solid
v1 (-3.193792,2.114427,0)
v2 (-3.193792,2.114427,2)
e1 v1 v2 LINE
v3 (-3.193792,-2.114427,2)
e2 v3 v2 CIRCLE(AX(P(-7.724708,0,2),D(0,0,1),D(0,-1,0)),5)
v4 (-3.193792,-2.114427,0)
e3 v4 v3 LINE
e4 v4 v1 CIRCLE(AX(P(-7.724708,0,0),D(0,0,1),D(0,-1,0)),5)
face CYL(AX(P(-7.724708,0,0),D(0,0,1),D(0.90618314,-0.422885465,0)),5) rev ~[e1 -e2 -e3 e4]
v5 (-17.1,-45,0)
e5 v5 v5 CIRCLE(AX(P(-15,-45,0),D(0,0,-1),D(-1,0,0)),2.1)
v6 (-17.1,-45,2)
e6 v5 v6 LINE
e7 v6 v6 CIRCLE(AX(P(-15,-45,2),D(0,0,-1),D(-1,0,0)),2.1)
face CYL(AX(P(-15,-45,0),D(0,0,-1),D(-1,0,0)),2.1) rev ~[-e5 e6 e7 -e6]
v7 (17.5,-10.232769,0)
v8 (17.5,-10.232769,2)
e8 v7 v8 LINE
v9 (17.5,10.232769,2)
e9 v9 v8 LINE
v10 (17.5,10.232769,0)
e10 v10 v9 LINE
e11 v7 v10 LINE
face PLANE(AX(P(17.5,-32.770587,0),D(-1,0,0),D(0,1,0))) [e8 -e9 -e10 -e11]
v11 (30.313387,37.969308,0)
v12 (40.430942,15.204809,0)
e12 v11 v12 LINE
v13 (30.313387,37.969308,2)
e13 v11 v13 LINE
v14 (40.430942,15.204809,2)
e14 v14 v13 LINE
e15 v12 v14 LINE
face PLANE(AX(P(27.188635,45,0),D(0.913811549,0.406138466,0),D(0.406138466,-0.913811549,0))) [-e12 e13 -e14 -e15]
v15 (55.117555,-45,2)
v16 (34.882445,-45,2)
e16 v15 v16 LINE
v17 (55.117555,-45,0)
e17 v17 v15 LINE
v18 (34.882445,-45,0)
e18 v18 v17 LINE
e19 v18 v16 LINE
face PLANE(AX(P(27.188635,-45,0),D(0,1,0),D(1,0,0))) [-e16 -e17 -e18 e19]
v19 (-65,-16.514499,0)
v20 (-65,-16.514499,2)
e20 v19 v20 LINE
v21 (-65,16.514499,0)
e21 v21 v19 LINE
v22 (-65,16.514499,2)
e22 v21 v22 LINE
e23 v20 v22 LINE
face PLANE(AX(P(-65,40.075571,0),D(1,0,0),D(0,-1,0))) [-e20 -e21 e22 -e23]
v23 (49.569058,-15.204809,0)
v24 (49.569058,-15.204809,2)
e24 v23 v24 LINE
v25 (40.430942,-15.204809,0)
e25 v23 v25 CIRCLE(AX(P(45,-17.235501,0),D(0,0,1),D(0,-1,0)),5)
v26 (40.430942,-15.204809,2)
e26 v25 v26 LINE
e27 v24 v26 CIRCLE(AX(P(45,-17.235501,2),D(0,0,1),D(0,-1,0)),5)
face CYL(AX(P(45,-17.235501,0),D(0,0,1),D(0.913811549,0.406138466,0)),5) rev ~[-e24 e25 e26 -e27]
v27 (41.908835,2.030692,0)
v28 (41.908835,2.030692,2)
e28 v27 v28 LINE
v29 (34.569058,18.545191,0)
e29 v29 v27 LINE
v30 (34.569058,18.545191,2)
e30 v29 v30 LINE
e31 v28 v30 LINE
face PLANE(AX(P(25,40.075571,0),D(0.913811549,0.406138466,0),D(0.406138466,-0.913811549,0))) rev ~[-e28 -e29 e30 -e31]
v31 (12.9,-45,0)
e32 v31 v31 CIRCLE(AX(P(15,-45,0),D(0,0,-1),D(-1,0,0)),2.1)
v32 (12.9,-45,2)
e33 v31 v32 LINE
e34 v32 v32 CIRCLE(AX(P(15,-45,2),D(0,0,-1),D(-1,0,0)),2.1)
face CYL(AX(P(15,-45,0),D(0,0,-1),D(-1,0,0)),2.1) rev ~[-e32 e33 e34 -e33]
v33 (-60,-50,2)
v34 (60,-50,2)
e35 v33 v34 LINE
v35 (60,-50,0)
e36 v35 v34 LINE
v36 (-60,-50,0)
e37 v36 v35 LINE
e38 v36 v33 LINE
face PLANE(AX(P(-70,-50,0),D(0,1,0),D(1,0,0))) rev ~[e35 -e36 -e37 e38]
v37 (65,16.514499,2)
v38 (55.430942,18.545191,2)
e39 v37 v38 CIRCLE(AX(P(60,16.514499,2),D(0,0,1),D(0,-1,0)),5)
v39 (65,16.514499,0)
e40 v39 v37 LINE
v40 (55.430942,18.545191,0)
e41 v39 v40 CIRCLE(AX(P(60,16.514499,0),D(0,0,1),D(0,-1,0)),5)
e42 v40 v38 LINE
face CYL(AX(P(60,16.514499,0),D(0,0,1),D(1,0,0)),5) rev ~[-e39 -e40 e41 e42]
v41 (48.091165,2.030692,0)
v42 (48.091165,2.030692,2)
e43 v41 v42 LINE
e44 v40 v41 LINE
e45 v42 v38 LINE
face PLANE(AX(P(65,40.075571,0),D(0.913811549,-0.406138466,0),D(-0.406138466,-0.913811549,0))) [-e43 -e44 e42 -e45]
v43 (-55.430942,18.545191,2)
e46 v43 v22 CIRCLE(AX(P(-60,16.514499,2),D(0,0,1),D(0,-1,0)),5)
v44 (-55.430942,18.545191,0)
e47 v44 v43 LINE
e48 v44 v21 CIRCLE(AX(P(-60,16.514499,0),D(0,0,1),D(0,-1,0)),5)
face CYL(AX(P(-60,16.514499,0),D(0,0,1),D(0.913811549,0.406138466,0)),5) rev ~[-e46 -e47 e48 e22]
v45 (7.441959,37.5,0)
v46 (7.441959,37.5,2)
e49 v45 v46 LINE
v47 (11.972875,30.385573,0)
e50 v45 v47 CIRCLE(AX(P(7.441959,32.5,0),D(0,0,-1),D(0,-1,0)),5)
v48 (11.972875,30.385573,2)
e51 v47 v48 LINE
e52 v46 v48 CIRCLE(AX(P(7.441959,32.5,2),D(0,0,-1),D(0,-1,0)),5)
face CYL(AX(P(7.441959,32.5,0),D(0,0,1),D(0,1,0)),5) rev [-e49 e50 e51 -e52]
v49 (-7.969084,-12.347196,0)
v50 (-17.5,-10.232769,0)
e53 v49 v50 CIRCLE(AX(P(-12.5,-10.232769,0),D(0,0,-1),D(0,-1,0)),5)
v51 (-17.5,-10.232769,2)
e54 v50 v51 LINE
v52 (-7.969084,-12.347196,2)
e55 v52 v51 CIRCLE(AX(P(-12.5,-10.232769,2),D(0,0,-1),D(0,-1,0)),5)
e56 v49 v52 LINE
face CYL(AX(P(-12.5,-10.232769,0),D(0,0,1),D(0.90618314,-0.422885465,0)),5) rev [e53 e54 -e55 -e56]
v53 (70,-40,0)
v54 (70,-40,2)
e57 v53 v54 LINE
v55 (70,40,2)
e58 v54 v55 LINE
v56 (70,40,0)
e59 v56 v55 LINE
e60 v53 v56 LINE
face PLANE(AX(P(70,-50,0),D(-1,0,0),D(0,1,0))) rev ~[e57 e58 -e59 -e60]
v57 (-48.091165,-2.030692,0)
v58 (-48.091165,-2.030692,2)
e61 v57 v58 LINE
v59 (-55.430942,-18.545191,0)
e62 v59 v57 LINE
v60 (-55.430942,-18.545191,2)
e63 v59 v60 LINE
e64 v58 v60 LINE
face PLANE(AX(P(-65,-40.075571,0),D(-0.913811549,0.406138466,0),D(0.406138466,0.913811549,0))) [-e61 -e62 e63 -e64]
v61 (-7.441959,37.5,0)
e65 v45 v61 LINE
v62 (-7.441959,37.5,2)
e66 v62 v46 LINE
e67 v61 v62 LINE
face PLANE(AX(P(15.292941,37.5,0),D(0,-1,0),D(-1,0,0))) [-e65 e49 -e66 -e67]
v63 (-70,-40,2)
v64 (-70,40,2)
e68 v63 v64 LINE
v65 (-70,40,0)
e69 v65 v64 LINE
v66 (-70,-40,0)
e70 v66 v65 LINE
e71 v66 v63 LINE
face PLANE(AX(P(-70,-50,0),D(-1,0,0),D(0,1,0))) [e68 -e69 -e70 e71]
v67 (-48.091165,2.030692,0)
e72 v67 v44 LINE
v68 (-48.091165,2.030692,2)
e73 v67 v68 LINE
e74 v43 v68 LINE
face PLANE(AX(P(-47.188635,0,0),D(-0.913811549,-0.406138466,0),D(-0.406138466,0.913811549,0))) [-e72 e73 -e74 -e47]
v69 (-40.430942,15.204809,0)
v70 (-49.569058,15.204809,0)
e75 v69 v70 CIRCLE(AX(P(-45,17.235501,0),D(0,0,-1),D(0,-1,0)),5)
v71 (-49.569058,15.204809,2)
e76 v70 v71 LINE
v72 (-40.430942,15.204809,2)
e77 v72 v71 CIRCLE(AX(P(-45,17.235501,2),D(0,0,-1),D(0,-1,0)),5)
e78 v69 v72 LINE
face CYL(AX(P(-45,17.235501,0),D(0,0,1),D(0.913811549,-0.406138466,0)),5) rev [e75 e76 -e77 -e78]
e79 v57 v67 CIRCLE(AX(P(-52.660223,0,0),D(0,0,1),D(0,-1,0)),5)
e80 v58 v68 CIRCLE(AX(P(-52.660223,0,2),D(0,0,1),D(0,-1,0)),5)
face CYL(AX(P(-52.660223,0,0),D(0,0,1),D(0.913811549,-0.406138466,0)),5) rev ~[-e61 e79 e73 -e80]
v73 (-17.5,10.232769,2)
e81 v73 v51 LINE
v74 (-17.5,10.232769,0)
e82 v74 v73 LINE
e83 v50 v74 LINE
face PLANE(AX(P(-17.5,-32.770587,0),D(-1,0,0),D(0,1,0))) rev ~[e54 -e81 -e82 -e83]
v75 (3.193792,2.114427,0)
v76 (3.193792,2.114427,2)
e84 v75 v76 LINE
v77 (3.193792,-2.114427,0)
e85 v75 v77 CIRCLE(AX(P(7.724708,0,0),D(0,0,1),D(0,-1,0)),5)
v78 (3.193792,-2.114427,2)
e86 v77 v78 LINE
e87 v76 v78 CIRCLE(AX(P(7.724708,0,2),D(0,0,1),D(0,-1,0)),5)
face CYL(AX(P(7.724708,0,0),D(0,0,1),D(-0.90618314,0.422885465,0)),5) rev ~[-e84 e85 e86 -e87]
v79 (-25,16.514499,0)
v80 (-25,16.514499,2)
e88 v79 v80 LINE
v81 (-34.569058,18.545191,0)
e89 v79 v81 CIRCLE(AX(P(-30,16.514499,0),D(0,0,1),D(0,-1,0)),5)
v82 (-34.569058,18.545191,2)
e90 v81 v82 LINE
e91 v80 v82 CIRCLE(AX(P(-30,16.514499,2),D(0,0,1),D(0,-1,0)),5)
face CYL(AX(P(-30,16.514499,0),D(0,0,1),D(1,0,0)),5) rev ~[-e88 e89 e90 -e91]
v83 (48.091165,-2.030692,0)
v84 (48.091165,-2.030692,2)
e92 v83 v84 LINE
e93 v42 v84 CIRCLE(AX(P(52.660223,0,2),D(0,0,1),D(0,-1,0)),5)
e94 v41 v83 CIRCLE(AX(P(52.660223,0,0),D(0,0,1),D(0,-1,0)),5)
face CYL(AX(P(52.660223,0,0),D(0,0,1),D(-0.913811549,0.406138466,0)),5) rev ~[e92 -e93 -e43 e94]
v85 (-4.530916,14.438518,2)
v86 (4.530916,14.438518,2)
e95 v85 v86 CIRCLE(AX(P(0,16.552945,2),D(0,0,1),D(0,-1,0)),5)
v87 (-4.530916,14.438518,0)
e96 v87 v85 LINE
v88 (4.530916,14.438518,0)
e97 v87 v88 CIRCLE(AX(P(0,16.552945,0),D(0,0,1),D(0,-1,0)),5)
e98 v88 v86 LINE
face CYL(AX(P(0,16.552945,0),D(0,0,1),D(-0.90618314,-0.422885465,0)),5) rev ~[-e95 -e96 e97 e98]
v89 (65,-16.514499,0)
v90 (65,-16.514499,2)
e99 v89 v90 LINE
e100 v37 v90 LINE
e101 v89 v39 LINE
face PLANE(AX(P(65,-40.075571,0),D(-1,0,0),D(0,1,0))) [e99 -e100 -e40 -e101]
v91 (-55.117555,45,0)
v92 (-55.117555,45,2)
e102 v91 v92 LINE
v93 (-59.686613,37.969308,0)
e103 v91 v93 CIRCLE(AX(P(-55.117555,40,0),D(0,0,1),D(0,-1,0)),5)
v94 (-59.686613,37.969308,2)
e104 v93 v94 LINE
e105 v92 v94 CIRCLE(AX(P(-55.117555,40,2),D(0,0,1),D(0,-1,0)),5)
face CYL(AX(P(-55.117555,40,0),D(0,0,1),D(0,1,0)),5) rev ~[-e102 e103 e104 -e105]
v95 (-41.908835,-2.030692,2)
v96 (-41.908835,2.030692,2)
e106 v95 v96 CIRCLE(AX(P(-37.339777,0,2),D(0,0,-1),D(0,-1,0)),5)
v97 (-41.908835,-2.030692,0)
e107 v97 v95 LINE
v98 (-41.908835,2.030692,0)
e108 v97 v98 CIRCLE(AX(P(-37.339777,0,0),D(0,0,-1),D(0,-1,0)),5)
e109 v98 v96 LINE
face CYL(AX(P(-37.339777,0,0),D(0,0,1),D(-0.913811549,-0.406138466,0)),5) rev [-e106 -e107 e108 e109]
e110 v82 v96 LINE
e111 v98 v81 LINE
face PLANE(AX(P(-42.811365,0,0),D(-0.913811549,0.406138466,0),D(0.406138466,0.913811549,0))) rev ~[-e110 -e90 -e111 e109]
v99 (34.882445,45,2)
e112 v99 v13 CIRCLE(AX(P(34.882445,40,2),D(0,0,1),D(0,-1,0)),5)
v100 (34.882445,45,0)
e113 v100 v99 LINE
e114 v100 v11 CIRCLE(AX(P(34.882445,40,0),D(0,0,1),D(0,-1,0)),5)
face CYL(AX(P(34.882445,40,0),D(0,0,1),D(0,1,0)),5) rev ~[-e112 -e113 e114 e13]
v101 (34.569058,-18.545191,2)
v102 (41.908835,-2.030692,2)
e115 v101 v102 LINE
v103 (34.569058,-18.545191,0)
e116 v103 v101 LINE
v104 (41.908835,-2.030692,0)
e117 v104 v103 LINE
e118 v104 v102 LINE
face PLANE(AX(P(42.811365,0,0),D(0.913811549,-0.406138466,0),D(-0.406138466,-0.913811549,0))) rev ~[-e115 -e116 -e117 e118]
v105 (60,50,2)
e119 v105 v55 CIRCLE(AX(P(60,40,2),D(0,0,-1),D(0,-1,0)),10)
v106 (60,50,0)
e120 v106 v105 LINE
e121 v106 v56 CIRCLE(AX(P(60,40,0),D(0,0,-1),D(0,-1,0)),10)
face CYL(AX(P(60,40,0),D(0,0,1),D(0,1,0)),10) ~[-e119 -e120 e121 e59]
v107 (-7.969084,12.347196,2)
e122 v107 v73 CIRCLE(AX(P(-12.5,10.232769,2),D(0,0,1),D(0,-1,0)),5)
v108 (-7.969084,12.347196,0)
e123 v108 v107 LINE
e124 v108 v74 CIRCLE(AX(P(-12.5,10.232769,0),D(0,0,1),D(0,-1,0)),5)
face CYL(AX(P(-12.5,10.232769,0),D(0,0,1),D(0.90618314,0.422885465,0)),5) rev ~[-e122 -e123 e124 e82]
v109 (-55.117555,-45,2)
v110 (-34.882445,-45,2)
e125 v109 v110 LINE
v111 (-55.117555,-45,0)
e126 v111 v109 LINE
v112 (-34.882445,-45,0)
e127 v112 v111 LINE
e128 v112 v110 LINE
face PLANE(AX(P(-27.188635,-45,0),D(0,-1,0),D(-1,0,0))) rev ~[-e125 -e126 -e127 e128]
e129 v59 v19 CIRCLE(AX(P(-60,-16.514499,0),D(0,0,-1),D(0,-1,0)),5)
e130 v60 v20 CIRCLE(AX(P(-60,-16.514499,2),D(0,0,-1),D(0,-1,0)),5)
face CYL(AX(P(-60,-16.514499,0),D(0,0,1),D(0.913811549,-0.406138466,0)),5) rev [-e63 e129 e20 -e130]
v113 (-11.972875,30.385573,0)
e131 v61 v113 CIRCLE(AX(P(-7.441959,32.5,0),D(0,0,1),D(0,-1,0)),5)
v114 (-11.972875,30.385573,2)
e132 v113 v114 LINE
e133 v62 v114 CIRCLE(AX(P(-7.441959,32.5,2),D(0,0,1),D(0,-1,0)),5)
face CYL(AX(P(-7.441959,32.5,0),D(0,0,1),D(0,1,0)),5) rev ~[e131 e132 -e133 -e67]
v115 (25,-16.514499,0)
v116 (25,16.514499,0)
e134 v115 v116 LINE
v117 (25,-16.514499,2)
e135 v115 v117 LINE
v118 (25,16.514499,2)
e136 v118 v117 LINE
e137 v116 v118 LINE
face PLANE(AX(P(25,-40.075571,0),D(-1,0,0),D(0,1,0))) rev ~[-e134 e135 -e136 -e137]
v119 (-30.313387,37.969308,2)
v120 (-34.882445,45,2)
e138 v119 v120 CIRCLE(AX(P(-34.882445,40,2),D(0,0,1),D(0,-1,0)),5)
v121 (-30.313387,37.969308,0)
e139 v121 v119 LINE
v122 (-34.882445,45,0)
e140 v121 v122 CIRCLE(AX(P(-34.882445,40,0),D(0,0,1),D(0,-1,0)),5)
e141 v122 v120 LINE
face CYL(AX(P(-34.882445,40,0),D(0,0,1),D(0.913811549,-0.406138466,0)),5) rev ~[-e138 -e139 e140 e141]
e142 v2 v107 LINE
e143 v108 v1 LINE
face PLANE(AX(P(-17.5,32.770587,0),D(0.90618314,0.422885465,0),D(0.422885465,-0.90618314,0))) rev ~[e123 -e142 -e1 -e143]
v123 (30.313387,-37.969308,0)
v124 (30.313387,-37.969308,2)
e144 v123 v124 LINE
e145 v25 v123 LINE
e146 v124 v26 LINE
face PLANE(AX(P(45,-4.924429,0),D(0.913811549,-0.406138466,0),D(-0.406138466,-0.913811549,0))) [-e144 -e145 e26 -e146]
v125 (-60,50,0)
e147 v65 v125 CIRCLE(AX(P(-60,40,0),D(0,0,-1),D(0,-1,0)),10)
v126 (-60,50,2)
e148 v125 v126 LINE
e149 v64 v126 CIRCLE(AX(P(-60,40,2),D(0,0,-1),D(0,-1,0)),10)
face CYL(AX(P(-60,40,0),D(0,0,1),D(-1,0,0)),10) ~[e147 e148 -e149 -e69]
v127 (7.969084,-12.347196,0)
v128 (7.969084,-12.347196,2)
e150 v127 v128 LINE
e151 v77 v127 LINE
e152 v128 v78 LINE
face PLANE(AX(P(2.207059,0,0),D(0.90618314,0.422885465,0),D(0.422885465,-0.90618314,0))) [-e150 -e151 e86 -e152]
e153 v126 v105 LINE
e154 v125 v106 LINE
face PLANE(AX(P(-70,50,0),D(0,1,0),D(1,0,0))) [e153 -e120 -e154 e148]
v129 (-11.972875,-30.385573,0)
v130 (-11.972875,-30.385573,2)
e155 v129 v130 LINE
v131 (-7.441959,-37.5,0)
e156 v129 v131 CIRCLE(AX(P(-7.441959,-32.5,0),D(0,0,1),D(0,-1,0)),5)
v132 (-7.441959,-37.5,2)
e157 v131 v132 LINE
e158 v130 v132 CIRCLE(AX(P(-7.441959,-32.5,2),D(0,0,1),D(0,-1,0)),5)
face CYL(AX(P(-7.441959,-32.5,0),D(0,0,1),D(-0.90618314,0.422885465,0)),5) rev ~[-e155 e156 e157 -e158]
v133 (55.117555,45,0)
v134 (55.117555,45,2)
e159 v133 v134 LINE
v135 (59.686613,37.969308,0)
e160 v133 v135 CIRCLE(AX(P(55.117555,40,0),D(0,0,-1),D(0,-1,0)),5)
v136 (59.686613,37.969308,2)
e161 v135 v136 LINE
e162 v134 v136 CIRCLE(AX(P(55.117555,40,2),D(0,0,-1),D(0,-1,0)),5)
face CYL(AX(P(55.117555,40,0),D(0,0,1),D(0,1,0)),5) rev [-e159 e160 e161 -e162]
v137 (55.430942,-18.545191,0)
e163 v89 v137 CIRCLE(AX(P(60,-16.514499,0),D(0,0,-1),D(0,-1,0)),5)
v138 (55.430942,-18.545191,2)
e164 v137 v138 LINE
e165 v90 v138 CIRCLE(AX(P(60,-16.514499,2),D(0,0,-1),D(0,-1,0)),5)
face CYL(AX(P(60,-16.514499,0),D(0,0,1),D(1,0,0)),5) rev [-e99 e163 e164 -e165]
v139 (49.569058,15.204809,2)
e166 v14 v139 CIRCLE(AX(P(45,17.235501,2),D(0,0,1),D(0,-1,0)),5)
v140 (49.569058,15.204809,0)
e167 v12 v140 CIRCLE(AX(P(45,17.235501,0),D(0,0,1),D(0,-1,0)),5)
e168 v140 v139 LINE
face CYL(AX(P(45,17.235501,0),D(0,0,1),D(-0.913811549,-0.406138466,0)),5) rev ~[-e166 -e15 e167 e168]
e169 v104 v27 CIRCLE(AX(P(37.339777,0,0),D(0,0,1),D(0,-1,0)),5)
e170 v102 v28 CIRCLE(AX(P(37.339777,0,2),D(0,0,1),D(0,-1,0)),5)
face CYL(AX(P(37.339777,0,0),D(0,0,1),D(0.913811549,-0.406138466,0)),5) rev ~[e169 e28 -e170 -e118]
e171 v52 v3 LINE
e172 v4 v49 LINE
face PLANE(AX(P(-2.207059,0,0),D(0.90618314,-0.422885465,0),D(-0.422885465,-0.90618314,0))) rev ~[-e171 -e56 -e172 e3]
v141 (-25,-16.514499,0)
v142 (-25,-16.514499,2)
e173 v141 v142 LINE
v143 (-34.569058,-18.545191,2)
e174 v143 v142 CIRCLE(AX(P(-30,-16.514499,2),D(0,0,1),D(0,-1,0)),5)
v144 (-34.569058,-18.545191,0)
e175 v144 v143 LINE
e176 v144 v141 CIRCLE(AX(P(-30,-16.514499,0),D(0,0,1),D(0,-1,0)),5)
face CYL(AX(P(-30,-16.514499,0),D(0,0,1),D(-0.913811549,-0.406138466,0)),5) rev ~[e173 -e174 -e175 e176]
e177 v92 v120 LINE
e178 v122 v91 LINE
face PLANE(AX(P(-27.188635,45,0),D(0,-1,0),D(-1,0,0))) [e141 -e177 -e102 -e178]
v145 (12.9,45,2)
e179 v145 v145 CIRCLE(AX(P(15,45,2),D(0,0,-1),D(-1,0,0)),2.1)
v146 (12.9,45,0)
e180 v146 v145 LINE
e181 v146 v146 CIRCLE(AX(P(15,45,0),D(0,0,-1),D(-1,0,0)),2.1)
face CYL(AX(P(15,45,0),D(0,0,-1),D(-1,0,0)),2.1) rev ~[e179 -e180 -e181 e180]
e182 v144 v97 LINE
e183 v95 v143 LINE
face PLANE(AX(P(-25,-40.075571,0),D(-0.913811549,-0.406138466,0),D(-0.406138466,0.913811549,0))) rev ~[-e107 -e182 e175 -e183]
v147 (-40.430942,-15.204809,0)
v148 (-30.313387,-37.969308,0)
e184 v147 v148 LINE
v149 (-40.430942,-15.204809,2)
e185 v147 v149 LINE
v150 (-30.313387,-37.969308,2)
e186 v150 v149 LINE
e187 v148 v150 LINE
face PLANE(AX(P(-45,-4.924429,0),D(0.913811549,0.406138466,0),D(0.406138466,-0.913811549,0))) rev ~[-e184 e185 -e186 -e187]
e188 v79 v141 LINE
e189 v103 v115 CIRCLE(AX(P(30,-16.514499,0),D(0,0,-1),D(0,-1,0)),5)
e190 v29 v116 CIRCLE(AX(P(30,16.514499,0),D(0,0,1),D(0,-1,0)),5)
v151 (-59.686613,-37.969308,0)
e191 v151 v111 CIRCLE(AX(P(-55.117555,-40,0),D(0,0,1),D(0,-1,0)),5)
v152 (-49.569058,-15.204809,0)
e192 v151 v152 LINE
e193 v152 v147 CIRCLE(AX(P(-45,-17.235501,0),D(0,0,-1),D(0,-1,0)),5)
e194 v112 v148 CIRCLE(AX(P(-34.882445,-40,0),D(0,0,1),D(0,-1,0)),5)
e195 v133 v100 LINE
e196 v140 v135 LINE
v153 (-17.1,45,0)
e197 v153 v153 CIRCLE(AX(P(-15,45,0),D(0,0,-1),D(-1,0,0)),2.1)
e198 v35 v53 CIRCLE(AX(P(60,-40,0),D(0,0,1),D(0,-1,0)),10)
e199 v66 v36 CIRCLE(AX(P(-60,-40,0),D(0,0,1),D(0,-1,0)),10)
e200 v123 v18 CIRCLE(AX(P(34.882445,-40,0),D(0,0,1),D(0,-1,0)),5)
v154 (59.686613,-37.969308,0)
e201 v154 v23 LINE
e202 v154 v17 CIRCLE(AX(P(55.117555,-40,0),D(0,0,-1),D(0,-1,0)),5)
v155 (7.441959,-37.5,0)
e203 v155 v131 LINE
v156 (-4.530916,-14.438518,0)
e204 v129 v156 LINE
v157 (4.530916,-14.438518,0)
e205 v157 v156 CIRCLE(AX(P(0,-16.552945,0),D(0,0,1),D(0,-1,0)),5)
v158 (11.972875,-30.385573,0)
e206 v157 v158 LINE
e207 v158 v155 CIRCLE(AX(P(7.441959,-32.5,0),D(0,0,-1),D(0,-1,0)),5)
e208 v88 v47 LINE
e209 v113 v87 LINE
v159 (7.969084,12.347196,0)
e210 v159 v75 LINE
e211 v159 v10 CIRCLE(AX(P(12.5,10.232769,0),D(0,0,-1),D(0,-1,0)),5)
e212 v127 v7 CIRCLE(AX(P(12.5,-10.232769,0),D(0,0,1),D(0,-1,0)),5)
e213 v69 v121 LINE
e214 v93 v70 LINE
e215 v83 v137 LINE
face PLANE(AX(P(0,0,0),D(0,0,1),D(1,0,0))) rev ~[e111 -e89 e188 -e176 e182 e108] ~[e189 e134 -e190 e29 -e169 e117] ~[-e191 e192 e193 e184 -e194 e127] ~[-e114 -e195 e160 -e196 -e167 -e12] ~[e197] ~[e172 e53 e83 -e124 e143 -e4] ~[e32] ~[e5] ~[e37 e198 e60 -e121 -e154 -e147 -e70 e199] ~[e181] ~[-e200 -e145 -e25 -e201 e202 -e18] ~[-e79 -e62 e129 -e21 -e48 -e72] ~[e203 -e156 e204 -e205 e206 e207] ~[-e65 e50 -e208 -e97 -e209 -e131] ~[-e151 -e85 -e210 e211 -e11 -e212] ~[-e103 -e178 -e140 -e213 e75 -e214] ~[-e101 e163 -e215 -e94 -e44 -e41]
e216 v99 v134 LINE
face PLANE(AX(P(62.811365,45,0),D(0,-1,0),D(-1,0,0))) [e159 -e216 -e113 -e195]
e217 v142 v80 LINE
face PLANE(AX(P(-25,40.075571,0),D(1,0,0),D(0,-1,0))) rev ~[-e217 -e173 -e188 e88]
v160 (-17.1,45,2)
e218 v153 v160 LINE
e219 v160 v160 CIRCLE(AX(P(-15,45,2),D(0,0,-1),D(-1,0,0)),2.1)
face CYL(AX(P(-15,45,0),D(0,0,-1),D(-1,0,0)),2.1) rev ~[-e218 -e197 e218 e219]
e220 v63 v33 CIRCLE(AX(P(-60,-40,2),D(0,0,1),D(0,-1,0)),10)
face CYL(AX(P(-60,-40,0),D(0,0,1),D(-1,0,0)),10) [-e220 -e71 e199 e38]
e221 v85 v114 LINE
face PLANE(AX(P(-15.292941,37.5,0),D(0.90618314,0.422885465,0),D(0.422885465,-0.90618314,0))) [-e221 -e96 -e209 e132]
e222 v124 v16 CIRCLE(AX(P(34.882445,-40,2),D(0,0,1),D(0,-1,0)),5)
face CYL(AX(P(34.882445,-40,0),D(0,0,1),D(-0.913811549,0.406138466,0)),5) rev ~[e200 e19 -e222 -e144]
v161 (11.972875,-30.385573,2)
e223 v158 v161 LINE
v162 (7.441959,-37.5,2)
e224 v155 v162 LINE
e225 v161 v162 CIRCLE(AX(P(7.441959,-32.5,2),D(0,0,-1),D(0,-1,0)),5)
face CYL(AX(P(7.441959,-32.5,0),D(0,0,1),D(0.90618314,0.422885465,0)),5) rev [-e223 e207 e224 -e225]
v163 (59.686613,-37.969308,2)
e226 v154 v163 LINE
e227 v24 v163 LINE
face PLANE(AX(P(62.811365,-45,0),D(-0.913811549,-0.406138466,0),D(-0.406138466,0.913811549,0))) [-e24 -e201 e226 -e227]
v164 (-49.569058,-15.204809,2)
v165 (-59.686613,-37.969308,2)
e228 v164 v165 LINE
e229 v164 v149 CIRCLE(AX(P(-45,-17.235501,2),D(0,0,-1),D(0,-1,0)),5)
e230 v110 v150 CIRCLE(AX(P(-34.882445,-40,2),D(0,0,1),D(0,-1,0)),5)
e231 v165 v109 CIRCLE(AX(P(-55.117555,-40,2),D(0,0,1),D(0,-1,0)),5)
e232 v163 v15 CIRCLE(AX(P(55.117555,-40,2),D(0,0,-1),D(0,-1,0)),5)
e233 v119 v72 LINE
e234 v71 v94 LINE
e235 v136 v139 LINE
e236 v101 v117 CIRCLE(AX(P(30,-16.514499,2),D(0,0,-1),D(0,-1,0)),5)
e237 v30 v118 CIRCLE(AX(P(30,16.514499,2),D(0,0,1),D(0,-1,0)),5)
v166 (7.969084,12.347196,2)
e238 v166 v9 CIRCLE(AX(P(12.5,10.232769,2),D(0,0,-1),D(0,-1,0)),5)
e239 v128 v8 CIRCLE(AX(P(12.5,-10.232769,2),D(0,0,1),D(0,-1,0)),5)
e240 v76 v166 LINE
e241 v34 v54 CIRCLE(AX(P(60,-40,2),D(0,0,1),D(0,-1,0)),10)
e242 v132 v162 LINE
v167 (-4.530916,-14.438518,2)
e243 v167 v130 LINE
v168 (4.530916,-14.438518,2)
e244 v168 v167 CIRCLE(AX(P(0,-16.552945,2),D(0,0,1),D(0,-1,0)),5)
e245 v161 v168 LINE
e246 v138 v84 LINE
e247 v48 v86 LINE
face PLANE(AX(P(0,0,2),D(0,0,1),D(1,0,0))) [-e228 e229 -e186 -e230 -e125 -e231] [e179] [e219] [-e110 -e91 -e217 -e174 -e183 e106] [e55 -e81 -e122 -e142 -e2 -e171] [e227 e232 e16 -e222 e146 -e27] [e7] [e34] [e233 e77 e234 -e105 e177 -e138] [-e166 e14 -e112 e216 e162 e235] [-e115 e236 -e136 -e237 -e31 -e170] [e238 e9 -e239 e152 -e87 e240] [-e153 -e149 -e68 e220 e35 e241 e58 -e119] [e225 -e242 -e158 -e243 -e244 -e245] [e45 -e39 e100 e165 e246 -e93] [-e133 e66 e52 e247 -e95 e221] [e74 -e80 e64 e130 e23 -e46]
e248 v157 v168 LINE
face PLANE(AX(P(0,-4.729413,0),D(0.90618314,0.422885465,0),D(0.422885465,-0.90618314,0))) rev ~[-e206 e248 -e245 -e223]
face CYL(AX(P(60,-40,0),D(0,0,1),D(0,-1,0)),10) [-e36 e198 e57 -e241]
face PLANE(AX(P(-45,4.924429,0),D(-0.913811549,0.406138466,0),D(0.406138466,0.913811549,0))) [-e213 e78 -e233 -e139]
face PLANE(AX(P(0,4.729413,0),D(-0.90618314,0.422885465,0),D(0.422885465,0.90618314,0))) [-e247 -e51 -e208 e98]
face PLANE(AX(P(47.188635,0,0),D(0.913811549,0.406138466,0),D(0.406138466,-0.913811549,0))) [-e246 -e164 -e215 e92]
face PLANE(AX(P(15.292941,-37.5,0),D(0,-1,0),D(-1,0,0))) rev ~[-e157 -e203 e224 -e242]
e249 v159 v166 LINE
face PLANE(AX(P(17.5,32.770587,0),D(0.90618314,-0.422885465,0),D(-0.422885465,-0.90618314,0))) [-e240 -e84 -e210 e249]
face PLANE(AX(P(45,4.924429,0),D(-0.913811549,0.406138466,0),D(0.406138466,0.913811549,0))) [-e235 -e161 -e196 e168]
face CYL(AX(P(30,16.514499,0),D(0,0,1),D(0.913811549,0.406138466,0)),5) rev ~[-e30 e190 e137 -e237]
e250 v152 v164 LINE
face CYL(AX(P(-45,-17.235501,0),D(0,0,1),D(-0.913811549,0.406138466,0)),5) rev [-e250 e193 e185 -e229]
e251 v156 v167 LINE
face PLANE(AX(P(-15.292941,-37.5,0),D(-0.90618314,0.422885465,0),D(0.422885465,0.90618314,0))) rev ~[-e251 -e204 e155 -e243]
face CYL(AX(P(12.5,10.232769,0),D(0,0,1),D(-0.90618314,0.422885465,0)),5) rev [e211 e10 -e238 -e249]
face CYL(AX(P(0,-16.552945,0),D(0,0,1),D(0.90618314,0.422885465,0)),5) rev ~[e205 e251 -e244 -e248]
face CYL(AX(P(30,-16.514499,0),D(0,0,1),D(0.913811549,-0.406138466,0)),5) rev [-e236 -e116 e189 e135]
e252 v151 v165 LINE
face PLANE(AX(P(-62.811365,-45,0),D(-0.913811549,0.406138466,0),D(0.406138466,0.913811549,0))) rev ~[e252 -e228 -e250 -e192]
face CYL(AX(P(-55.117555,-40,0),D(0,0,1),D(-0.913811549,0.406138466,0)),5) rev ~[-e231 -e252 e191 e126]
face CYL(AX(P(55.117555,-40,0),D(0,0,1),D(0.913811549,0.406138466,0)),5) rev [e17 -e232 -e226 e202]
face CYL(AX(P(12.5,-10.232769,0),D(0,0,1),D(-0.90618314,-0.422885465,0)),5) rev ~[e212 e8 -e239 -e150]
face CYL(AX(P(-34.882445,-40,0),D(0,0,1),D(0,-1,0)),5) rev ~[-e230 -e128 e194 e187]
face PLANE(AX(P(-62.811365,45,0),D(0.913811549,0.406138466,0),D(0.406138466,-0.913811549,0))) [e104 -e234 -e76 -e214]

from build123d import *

# Parameters (mm, degrees)
SKETCH_1_W          = 140
SKETCH_1_H          = 100
EXTRUDE_1_DEPTH     = 2
SKETCH_3_R          = 2.1
CUT_EXTRUDE_2_DEPTH = 10
CUT_EXTRUDE_3_DEPTH = 10
FILLET_1_R          = 5
FILLET_2_R          = 10


with BuildPart() as part:
    # 草图1 → 凸台-拉伸1 (new body)
    with BuildSketch(Plane.XY):
        Rectangle(SKETCH_1_W, SKETCH_1_H)
    extrude(amount=EXTRUDE_1_DEPTH)

    # 草图3 → 切除-拉伸2 (cut)
    with BuildSketch(Plane(origin=(0, 0, 0), x_dir=(-1, 0, 0), z_dir=(0, 0, -1))):
        with Locations((-15, -45)):
            Circle(SKETCH_3_R)
        with Locations((15, -45)):
            Circle(SKETCH_3_R)
        with Locations((15, 45)):
            Circle(SKETCH_3_R)
        with Locations((-15, 45)):
            Circle(SKETCH_3_R)
    extrude(amount=-CUT_EXTRUDE_2_DEPTH, mode=Mode.SUBTRACT)

    # 草图4 → 切除-拉伸3 (cut)
    with BuildSketch(Plane(origin=(0, 0, 0), x_dir=(-1, 0, 0), z_dir=(0, 0, -1))):
        Polygon((-17.5, 32.770587041), (-2.207059381, 0), (-17.5, -32.770587041), align=None)
        Polygon((-15.292940619, -37.5), (15.292940619, -37.5), (0, -4.729412959), align=None)
        Polygon((-15.292940619, 37.5), (15.292940619, 37.5), (0, 4.729412959), align=None)
        Polygon((17.5, -32.770587041), (17.5, 32.770587041), (2.207059381, 0), align=None)
        Polygon((-62.811364933, -45), (-45, -4.924428901), (-27.188635067, -45), align=None)
        Polygon((-65, -40.075571099), (-65, 40.075571099), (-47.188635067, 0), align=None)
        Polygon((-62.811364933, 45), (-27.188635067, 45), (-45, 4.924428901), align=None)
        Polygon((-25, -40.075571099), (-25, 40.075571099), (-42.811364933, 0), align=None)
        Polygon((42.811364933, 0), (25, 40.075571099), (25, -40.075571099), align=None)
        Polygon((45, -4.924428901), (27.188635067, -45), (62.811364933, -45), align=None)
        Polygon((45, 4.924428901), (27.188635067, 45), (62.811364933, 45), align=None)
        Polygon((65, -40.075571099), (47.188635067, 0), (65, 40.075571099), align=None)
    extrude(amount=-CUT_EXTRUDE_3_DEPTH, mode=Mode.SUBTRACT)

    # 圆角1
    fillet_1_edges = [part.edges().sort_by_distance(p)[0] for p in [
        (-62.811364933, 45, 1),
        (-45, 4.924428901, 1),
        (-27.188635067, 45, 1),
        (-65, 40.075571099, 1),
        (-65, -40.075571099, 1),
        (-47.188635067, 0, 1),
        (-45, -4.924428901, 1),
        (-62.811364933, -45, 1),
        (-27.188635067, -45, 1),
        (-2.207059381, 0, 1),
        (-17.5, 32.770587041, 1),
        (-17.5, -32.770587041, 1),
        (0, 4.729412959, 1),
        (15.292940619, 37.5, 1),
        (-15.292940619, 37.5, 1),
        (15.292940619, -37.5, 1),
        (0, -4.729412959, 1),
        (-15.292940619, -37.5, 1),
        (45, 4.924428901, 1),
        (62.811364933, 45, 1),
        (27.188635067, 45, 1),
        (65, 40.075571099, 1),
        (47.188635067, 0, 1),
        (65, -40.075571099, 1),
        (17.5, -32.770587041, 1),
        (17.5, 32.770587041, 1),
        (2.207059381, 0, 1),
        (-42.811364933, 0, 1),
        (-25, -40.075571099, 1),
        (-25, 40.075571099, 1),
        (27.188635067, -45, 1),
        (62.811364933, -45, 1),
        (45, -4.924428901, 1),
        (42.811364933, 0, 1),
        (25, 40.075571099, 1),
        (25, -40.075571099, 1),
    ]]
    fillet(fillet_1_edges, radius=FILLET_1_R)

    # 圆角2
    fillet_2_edges = [part.edges().sort_by_distance(p)[0] for p in [
        (-70, 50, 1),
        (70, 50, 1),
        (70, -50, 1),
        (-70, -50, 1),
    ]]
    fillet(fillet_2_edges, radius=FILLET_2_R)


solid = part.part
